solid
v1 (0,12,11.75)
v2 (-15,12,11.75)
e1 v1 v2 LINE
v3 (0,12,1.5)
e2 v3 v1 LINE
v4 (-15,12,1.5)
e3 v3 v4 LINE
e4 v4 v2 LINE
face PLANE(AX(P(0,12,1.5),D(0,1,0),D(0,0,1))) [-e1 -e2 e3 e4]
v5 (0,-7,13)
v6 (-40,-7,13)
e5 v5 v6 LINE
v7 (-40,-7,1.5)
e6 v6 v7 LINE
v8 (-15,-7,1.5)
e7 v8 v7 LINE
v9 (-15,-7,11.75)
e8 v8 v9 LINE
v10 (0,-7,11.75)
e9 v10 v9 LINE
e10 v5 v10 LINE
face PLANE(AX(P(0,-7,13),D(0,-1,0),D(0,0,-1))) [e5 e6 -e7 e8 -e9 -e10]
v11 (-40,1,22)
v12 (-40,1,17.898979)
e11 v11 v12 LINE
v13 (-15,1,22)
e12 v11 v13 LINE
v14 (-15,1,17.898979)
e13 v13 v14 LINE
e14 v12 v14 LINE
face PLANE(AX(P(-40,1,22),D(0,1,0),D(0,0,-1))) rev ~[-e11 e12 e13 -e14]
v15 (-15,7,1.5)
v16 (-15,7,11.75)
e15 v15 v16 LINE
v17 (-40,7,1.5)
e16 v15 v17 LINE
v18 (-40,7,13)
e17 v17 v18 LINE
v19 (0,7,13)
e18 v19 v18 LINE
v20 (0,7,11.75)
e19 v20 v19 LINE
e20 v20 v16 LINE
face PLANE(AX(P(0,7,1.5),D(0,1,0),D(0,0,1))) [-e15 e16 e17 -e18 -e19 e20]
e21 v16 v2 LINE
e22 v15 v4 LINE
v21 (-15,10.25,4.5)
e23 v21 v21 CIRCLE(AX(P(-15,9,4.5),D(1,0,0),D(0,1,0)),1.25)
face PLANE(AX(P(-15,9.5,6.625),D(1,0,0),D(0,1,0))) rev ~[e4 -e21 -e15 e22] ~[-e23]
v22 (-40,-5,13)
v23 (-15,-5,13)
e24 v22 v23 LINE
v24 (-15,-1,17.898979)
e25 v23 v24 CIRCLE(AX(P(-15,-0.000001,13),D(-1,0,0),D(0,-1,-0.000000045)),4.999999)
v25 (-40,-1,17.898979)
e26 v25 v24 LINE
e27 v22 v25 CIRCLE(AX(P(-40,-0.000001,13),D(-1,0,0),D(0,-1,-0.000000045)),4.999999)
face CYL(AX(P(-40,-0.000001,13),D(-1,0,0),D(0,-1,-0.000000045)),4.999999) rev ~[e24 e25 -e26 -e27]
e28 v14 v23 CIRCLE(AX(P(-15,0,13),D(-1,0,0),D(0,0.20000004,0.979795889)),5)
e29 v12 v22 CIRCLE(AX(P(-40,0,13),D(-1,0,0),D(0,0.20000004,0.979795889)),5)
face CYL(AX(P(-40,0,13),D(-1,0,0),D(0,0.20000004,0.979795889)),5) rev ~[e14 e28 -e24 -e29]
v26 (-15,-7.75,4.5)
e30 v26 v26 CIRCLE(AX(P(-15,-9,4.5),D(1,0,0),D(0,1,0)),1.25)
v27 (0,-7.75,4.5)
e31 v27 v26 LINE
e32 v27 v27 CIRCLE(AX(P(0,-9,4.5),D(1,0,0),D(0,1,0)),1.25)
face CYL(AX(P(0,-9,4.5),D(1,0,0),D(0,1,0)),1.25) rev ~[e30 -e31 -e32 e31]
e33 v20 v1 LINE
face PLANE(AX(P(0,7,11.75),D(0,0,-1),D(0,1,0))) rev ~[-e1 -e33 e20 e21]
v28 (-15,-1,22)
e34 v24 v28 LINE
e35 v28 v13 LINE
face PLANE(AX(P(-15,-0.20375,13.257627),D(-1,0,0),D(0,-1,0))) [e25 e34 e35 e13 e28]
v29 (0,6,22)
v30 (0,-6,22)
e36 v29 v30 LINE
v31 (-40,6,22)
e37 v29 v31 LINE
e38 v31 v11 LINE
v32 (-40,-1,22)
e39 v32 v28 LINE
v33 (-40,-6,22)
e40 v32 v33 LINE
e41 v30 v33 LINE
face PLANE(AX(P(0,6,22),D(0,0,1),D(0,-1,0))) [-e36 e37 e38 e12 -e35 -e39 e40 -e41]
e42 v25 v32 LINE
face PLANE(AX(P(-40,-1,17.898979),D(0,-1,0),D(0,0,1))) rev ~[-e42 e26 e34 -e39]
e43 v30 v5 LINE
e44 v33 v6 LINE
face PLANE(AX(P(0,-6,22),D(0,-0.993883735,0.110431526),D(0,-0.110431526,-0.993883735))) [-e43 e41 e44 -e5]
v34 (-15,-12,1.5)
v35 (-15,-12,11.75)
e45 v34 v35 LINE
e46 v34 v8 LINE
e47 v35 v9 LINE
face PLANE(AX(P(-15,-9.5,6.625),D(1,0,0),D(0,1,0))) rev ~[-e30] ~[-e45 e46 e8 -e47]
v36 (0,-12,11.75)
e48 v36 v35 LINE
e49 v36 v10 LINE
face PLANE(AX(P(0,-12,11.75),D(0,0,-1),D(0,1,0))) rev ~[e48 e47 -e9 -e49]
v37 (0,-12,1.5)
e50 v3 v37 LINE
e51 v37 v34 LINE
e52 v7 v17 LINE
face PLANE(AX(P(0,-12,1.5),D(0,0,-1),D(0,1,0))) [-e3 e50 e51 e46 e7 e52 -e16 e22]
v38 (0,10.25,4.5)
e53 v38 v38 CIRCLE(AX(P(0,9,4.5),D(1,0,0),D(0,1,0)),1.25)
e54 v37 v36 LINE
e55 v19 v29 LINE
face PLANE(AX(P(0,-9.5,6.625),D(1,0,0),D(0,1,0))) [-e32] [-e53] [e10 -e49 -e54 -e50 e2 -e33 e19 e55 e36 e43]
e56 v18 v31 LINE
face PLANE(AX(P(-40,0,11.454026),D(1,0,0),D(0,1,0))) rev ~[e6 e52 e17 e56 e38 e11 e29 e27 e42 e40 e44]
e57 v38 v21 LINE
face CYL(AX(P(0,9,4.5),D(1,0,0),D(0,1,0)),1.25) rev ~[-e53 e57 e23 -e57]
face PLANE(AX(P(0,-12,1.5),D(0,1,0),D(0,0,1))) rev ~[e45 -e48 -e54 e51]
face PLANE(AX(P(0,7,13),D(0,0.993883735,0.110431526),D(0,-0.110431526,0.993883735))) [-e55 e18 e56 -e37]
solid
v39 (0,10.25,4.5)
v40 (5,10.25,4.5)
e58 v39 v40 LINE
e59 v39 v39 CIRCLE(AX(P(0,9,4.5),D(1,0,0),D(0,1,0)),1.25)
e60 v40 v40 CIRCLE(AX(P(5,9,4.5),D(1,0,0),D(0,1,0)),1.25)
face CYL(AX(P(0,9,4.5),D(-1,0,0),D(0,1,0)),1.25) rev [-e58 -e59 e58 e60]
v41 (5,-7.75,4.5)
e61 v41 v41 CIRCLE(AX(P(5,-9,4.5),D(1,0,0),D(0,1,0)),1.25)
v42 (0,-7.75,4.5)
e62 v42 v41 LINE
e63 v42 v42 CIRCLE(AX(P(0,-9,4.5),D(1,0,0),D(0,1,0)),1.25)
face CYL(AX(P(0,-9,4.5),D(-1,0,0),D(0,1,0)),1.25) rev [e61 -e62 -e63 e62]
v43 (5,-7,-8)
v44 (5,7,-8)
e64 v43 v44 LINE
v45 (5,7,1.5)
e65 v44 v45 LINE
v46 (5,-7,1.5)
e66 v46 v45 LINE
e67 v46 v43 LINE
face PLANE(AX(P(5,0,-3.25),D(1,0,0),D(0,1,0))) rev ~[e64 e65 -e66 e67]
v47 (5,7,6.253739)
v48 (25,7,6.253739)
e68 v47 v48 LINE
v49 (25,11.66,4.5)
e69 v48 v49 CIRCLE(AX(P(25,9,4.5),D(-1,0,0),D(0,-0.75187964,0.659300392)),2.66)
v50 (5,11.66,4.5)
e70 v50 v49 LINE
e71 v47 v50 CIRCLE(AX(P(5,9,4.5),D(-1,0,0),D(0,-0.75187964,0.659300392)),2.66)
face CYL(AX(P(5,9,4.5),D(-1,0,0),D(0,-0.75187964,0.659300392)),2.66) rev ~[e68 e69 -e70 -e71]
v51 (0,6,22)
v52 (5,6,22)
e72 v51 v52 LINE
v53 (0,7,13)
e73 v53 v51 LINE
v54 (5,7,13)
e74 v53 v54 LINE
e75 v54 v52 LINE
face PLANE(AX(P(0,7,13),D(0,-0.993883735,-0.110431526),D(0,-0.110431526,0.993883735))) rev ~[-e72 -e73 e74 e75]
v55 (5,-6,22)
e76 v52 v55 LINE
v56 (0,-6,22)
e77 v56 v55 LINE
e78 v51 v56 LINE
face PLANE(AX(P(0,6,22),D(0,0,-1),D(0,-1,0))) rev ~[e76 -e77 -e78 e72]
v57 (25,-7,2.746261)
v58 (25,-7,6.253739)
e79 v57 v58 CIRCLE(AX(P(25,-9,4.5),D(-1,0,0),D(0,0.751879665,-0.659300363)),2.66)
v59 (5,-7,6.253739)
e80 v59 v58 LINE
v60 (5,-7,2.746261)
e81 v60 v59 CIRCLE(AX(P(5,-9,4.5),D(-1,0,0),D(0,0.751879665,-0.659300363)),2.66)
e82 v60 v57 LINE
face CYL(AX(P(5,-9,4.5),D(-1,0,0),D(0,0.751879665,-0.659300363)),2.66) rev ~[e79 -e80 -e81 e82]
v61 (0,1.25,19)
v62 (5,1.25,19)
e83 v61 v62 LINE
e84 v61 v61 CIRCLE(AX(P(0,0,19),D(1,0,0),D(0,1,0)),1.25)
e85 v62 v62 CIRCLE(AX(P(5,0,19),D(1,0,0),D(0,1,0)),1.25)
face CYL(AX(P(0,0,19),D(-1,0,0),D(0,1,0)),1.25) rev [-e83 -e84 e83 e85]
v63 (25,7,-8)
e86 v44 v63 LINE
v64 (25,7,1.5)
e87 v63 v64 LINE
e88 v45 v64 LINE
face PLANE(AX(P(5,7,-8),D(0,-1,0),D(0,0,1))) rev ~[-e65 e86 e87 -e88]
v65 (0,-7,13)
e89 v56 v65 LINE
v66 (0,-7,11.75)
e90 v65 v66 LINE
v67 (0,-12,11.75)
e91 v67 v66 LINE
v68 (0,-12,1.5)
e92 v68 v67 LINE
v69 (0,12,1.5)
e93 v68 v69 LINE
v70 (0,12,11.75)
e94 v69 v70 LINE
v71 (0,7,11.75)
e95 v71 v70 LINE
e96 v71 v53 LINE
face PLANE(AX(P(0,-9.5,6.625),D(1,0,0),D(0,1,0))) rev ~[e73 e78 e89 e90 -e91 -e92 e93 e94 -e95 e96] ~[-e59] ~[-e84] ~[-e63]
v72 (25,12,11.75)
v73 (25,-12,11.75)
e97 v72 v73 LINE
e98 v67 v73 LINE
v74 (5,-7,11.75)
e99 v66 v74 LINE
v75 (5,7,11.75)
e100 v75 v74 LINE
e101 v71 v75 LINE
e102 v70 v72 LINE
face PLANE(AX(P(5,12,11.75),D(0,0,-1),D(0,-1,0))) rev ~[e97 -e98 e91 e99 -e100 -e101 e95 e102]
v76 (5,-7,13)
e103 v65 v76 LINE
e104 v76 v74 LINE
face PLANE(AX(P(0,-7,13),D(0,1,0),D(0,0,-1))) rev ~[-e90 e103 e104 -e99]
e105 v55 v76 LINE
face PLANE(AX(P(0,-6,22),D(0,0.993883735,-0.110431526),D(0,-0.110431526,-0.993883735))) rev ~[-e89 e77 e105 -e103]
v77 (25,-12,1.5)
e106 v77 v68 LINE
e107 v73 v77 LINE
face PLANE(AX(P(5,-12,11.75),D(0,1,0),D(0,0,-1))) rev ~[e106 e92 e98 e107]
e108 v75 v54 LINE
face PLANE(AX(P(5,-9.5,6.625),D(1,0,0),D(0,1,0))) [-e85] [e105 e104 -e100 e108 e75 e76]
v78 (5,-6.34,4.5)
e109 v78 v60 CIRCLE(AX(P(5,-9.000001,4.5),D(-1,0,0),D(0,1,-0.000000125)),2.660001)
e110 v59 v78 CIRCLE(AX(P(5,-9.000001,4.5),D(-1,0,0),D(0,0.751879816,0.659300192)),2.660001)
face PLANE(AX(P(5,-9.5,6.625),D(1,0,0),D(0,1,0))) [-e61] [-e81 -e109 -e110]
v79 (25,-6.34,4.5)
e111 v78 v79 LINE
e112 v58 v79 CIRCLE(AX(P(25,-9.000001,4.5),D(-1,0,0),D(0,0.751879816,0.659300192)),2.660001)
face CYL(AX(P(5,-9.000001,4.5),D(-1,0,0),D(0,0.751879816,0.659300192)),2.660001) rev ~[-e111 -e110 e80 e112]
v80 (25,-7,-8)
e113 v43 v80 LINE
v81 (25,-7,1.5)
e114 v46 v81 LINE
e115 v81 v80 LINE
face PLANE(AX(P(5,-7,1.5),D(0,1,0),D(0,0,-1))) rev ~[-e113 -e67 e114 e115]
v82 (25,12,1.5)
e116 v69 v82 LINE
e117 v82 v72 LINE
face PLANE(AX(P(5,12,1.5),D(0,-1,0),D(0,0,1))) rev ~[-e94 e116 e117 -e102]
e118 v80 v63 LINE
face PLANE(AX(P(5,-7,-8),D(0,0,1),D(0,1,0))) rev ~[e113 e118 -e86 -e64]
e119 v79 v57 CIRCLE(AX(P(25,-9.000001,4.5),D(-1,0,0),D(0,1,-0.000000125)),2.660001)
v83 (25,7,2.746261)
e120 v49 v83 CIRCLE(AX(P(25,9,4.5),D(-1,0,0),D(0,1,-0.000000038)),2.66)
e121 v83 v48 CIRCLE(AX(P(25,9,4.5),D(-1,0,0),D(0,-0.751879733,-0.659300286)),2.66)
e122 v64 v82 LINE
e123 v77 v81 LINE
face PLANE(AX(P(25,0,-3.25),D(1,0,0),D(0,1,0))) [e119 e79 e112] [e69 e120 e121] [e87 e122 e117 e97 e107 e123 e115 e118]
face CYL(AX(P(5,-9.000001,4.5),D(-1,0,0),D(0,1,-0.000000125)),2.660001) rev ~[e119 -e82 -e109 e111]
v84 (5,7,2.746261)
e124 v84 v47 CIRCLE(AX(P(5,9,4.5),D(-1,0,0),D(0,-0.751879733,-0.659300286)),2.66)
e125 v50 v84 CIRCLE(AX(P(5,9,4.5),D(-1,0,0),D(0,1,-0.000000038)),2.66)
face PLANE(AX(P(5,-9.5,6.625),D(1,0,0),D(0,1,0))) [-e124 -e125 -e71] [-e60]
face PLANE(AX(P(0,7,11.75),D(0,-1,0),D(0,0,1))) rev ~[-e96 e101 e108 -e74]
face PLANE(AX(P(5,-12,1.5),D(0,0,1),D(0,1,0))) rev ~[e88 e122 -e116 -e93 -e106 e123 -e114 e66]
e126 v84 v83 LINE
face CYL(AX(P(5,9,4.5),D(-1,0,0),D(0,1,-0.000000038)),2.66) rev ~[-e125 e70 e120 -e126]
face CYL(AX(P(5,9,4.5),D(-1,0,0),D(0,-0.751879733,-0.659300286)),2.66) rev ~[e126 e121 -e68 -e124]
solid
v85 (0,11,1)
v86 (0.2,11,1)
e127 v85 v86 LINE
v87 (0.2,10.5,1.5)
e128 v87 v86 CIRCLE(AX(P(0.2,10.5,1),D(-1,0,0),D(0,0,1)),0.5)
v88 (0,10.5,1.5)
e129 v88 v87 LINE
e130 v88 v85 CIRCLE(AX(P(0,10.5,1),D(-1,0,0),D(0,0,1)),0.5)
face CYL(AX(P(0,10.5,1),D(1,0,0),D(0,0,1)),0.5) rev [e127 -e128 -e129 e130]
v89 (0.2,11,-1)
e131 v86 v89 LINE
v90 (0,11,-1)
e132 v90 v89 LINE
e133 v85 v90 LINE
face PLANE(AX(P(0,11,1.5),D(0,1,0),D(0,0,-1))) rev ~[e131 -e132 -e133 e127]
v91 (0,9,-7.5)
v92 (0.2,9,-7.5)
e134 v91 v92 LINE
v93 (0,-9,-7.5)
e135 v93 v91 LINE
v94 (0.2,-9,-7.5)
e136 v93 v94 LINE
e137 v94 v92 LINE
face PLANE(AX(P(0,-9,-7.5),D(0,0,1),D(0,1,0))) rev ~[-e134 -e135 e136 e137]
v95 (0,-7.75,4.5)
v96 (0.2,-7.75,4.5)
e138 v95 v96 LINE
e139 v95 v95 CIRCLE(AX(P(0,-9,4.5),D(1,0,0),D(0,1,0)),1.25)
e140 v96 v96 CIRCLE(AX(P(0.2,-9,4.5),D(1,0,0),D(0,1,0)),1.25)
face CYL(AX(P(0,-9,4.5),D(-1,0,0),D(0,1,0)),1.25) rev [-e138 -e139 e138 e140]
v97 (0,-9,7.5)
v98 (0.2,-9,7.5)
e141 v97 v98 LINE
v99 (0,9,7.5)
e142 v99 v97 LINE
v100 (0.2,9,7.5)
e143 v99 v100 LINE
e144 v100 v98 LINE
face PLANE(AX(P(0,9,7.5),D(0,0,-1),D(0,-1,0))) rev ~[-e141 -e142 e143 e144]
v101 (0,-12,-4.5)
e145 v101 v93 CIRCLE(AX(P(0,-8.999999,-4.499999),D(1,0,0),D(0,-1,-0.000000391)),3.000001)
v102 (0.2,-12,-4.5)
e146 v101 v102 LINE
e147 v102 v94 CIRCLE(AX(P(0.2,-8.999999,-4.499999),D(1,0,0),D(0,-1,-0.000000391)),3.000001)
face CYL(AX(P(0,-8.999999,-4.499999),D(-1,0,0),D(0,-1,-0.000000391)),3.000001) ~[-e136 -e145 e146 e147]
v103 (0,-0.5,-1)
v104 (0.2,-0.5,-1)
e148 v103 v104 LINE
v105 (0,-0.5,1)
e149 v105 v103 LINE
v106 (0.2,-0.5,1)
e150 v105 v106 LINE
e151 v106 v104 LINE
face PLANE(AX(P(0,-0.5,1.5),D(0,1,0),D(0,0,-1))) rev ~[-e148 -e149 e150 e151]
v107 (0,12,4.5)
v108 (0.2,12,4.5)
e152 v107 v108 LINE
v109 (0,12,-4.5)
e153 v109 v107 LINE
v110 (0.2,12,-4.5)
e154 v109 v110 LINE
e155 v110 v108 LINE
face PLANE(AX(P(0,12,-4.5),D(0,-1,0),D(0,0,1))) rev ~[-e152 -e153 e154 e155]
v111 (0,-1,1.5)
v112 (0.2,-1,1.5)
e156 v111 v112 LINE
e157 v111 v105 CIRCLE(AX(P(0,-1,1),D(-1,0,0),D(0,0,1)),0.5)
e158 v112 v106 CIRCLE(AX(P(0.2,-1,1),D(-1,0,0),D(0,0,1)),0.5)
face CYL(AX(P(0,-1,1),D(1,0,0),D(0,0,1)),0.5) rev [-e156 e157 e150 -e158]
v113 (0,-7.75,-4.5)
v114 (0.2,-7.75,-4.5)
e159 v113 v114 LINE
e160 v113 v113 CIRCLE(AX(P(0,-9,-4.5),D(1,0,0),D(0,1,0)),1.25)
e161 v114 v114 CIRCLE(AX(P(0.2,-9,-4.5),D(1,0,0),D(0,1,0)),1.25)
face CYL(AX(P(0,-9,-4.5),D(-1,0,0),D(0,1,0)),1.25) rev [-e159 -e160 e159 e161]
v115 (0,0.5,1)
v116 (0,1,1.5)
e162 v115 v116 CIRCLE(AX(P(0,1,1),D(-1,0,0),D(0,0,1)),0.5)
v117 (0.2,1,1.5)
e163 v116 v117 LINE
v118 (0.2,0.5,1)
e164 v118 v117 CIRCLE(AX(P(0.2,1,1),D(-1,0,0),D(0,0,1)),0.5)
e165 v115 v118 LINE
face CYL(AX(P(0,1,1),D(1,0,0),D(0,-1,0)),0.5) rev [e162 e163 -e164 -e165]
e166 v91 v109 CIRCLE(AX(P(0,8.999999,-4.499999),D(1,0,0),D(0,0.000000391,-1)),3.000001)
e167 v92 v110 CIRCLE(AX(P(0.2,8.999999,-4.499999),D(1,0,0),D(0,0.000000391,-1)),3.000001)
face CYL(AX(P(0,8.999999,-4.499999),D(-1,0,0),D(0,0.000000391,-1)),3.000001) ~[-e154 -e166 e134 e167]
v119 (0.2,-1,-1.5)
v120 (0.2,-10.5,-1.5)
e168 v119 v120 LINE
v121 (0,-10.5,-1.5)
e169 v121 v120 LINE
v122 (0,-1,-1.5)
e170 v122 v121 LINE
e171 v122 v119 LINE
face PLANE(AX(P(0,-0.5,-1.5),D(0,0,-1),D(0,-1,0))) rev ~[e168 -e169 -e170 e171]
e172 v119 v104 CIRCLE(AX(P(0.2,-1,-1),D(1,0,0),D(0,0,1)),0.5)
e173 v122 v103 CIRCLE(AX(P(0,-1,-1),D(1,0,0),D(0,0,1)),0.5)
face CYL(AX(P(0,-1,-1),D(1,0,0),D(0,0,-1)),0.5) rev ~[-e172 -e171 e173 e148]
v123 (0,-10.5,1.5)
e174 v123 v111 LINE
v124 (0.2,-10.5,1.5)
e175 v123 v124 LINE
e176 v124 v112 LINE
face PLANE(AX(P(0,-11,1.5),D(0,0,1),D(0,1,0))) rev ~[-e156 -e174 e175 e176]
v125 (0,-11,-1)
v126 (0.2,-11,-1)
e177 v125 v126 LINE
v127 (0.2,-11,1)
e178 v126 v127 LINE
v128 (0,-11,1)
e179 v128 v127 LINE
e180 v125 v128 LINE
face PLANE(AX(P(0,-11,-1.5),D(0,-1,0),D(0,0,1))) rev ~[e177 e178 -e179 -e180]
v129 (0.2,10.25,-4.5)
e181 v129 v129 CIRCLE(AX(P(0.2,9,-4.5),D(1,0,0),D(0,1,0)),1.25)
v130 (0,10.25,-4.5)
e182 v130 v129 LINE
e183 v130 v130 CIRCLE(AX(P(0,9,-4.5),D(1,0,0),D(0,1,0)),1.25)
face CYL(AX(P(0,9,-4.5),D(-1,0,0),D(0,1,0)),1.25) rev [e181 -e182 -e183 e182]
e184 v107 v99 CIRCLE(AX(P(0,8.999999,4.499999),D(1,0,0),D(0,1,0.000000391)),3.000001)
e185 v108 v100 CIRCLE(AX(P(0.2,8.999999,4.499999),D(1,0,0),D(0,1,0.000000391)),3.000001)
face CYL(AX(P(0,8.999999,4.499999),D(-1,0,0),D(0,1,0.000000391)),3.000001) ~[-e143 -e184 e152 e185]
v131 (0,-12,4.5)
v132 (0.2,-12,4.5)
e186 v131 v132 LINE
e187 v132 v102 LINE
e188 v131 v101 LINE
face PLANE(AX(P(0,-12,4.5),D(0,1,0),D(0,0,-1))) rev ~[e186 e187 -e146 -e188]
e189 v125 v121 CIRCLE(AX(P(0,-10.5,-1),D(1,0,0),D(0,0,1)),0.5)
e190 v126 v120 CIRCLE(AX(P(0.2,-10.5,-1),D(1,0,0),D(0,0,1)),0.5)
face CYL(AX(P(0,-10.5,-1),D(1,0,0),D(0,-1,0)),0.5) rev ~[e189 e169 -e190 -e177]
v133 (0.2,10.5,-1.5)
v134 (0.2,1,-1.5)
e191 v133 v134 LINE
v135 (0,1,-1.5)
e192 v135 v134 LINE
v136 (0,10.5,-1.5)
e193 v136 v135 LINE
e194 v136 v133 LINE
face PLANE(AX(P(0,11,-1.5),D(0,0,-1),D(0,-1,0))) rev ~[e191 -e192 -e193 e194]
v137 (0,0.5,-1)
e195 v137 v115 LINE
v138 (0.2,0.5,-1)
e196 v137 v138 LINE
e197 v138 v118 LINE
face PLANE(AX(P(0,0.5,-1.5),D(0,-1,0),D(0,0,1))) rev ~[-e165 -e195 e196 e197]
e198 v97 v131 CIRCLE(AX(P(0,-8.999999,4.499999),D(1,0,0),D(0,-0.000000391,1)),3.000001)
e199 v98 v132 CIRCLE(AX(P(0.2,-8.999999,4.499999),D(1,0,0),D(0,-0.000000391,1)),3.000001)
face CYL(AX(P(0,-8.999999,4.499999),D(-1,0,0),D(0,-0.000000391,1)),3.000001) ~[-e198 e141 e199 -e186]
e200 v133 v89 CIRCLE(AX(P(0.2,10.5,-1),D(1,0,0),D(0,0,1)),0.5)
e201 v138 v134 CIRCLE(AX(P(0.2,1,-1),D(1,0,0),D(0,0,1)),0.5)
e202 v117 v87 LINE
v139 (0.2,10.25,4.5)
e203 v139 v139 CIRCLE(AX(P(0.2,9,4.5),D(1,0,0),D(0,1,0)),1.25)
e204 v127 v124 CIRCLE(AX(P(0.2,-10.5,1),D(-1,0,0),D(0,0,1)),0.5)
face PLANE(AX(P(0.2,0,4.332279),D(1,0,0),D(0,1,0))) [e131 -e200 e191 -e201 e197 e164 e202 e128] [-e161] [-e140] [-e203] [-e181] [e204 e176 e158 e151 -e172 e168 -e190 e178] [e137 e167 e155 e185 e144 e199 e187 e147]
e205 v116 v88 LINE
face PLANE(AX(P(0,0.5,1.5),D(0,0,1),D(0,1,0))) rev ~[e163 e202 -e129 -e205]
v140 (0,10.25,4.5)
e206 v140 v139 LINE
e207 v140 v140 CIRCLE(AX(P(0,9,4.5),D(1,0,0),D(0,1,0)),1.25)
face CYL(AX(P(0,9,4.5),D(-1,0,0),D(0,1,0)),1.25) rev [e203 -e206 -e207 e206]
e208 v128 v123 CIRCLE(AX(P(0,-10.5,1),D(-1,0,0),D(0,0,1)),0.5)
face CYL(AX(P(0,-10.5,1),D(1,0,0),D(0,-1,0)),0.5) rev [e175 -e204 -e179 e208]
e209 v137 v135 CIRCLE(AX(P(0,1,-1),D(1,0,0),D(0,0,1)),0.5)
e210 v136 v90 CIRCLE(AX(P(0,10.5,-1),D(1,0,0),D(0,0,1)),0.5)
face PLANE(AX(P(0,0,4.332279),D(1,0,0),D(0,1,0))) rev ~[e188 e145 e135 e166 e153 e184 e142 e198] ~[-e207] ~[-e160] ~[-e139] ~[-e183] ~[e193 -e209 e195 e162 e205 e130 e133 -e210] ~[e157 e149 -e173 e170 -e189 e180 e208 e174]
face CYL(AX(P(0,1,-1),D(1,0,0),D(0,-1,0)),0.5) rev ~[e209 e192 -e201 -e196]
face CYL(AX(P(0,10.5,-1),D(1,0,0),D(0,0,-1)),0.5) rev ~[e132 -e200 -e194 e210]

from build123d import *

# Parameters (mm, degrees)
F0_R      = 1.25
F1_DEPTH  = 40
F0_W      = 5
F0_H      = 10.25
F2_DEPTH  = 15
F4_DEPTH  = 25
F5_DEPTH  = 25
F6_R      = 1.25
F6_W      = 1
F6_H      = 1.5
F7_DEPTH  = 0.2
F8_R      = 0.5
F9_DEPTH  = 5
F10_W     = 14
F10_H     = 9.5
F11_DEPTH = 20


with BuildPart() as f1:
    # F0 (on Right) → F1 (new body)
    with BuildSketch(Plane.YZ):
        Polygon((-7, 11.75), (-7, 1.5), (7, 1.5), (7, 11.75), (7, 13), (6, 22), (-6, 22), (-7, 13), align=None)
        with Locations((0, 19)):
            Circle(F0_R, mode=Mode.SUBTRACT)
        with Locations((0, 19)):
            Circle(F0_R)
    extrude(amount=-F1_DEPTH)

    # F0 (on Right) → F2 (join)
    with BuildSketch(Plane.YZ):
        with Locations((-9.5, 6.625)):
            Rectangle(F0_W, F0_H)
        with Locations((-9, 4.5)):
            Circle(F0_R, mode=Mode.SUBTRACT)
        with Locations((9.5, 6.625)):
            Rectangle(F0_W, F0_H)
        with Locations((9, 4.5)):
            Circle(F0_R, mode=Mode.SUBTRACT)
    extrude(amount=-F2_DEPTH)

    # F3 (on face) → F4 (cut)
    with BuildSketch(Plane(origin=(-40, 0, 0), x_dir=(0, -1, 0), z_dir=(-1, 0, 0))):
        with BuildLine():
            ThreePointArc((-1, 17.898979), (-3.162278, 9.127017), (5, 13))
            ThreePointArc((5, 13), (3.872983, 16.162278), (1, 17.898979))
            ThreePointArc((1, 17.898979), (0, 18), (-1, 17.898979))
        make_face()
        with BuildLine():
            ThreePointArc((-1, 17.898979), (0, 18), (1, 17.898979))
            Line((1, 17.898979), (1, 22))
            Line((1, 22), (-1, 22))
            Line((-1, 22), (-1, 17.898979))
        make_face()
    extrude(amount=-F4_DEPTH, mode=Mode.SUBTRACT)

    # F3 (on face) → F5 (cut)
    with BuildSketch(Plane(origin=(-40, 0, 0), x_dir=(0, -1, 0), z_dir=(-1, 0, 0))):
        with BuildLine():
            ThreePointArc((-1, 17.898979), (0, 18), (1, 17.898979))
            Line((1, 17.898979), (1, 22))
            Line((1, 22), (-1, 22))
            Line((-1, 22), (-1, 17.898979))
        make_face()
        with BuildLine():
            ThreePointArc((-1, 17.898979), (-3.162278, 9.127017), (5, 13))
            ThreePointArc((5, 13), (3.872983, 16.162278), (1, 17.898979))
            ThreePointArc((1, 17.898979), (0, 18), (-1, 17.898979))
        make_face()
    extrude(amount=-F5_DEPTH, mode=Mode.SUBTRACT)


with BuildPart() as f7:
    # F6 (on face) → F7 (new body)
    with BuildSketch(Plane.YZ):
        with BuildLine():
            Line((-12, 4.5), (-12, 1.5))
            Line((-12, 1.5), (-11, 1.5))
            Line((-11, 1.5), (-0.5, 1.5))
            Line((-0.5, 1.5), (0.5, 1.5))
            Line((0.5, 1.5), (11, 1.5))
            Line((11, 1.5), (12, 1.5))
            Line((12, 1.5), (12, 4.5))
            ThreePointArc((12, 4.5), (11.12132, 6.62132), (9, 7.5))
            Line((9, 7.5), (-9, 7.5))
            ThreePointArc((-9, 7.5), (-11.12132, 6.62132), (-12, 4.5))
        make_face()
        with Locations((-9, 4.5)):
            Circle(F6_R, mode=Mode.SUBTRACT)
        with Locations((9, 4.5)):
            Circle(F6_R, mode=Mode.SUBTRACT)
        with Locations((-11.5, 0.75)):
            Rectangle(F6_W, F6_H)
        with Locations((-11.5, -0.75)):
            Rectangle(F6_W, F6_H)
        with Locations((0, 0.75)):
            Rectangle(F6_W, F6_H)
        with Locations((0, -0.75)):
            Rectangle(F6_W, F6_H)
        with Locations((11.5, 0.75)):
            Rectangle(F6_W, F6_H)
        with Locations((11.5, -0.75)):
            Rectangle(F6_W, F6_H)
        with BuildLine():
            Line((-11, -1.5), (-12, -1.5))
            Line((-12, -1.5), (-12, -4.5))
            ThreePointArc((-12, -4.5), (-11.12132, -6.62132), (-9, -7.5))
            Line((-9, -7.5), (9, -7.5))
            ThreePointArc((9, -7.5), (11.12132, -6.62132), (12, -4.5))
            Line((12, -4.5), (12, -1.5))
            Line((12, -1.5), (11, -1.5))
            Line((11, -1.5), (0.5, -1.5))
            Line((0.5, -1.5), (-0.5, -1.5))
            Line((-0.5, -1.5), (-11, -1.5))
        make_face()
        with Locations((-9, -4.5)):
            Circle(F6_R, mode=Mode.SUBTRACT)
        with Locations((9, -4.5)):
            Circle(F6_R, mode=Mode.SUBTRACT)
    extrude(amount=F7_DEPTH)

    # F8
    f8_edges = [f7.edges().sort_by_distance(p)[0] for p in [
        (0.1, -0.5, 1.5),
        (0.1, -11, 1.5),
        (0.1, -0.5, -1.5),
        (0.1, -11, -1.5),
        (0.1, 0.5, -1.5),
        (0.1, 11, 1.5),
        (0.1, 0.5, 1.5),
        (0.1, 11, -1.5),
    ]]
    fillet(f8_edges, radius=F8_R)


with BuildPart() as f9:
    # F0 (on Right) → F9 (new body)
    with BuildSketch(Plane.YZ):
        with Locations((-9.5, 6.625)):
            Rectangle(F0_W, F0_H)
        with Locations((-9, 4.5)):
            Circle(F0_R, mode=Mode.SUBTRACT)
        Polygon((-7, 11.75), (-7, 1.5), (7, 1.5), (7, 11.75), (7, 13), (6, 22), (-6, 22), (-7, 13), align=None)
        with Locations((0, 19)):
            Circle(F0_R, mode=Mode.SUBTRACT)
        with Locations((9.5, 6.625)):
            Rectangle(F0_W, F0_H)
        with Locations((9, 4.5)):
            Circle(F0_R, mode=Mode.SUBTRACT)
    extrude(amount=F9_DEPTH)

    # F10 (on face) → F11 (join)
    with BuildSketch(Plane.YZ.offset(5)):
        with Locations((0, -3.25)):
            Rectangle(F10_W, F10_H)
        with BuildLine():
            Line((7, 11.75), (-7, 11.75))
            Line((-7, 11.75), (-7, 6.253739))
            ThreePointArc((-7, 6.253739), (-6.510462, 5.43691), (-6.34, 4.5))
            ThreePointArc((-6.34, 4.5), (-6.510462, 3.56309), (-7, 2.746261))
            Line((-7, 2.746261), (-7, 1.5))
            Line((-7, 1.5), (7, 1.5))
            Line((7, 1.5), (7, 2.746261))
            ThreePointArc((7, 2.746261), (6.34, 4.5), (7, 6.253739))
            Line((7, 6.253739), (7, 11.75))
        make_face()
        with BuildLine():
            Line((-7, 6.253739), (-7, 11.75))
            Line((-7, 11.75), (-12, 11.75))
            Line((-12, 11.75), (-12, 1.5))
            Line((-12, 1.5), (-7, 1.5))
            Line((-7, 1.5), (-7, 2.746261))
            ThreePointArc((-7, 2.746261), (-11.66, 4.5), (-7, 6.253739))
        make_face()
        with BuildLine():
            Line((12, 11.75), (7, 11.75))
            Line((7, 11.75), (7, 6.253739))
            ThreePointArc((7, 6.253739), (9.93691, 6.989538), (11.66, 4.5))
            ThreePointArc((11.66, 4.5), (9.93691, 2.010462), (7, 2.746261))
            Line((7, 2.746261), (7, 1.5))
            Line((7, 1.5), (12, 1.5))
            Line((12, 1.5), (12, 11.75))
        make_face()
    extrude(amount=F11_DEPTH)


solid = Compound([f1.part, f7.part, f9.part])
